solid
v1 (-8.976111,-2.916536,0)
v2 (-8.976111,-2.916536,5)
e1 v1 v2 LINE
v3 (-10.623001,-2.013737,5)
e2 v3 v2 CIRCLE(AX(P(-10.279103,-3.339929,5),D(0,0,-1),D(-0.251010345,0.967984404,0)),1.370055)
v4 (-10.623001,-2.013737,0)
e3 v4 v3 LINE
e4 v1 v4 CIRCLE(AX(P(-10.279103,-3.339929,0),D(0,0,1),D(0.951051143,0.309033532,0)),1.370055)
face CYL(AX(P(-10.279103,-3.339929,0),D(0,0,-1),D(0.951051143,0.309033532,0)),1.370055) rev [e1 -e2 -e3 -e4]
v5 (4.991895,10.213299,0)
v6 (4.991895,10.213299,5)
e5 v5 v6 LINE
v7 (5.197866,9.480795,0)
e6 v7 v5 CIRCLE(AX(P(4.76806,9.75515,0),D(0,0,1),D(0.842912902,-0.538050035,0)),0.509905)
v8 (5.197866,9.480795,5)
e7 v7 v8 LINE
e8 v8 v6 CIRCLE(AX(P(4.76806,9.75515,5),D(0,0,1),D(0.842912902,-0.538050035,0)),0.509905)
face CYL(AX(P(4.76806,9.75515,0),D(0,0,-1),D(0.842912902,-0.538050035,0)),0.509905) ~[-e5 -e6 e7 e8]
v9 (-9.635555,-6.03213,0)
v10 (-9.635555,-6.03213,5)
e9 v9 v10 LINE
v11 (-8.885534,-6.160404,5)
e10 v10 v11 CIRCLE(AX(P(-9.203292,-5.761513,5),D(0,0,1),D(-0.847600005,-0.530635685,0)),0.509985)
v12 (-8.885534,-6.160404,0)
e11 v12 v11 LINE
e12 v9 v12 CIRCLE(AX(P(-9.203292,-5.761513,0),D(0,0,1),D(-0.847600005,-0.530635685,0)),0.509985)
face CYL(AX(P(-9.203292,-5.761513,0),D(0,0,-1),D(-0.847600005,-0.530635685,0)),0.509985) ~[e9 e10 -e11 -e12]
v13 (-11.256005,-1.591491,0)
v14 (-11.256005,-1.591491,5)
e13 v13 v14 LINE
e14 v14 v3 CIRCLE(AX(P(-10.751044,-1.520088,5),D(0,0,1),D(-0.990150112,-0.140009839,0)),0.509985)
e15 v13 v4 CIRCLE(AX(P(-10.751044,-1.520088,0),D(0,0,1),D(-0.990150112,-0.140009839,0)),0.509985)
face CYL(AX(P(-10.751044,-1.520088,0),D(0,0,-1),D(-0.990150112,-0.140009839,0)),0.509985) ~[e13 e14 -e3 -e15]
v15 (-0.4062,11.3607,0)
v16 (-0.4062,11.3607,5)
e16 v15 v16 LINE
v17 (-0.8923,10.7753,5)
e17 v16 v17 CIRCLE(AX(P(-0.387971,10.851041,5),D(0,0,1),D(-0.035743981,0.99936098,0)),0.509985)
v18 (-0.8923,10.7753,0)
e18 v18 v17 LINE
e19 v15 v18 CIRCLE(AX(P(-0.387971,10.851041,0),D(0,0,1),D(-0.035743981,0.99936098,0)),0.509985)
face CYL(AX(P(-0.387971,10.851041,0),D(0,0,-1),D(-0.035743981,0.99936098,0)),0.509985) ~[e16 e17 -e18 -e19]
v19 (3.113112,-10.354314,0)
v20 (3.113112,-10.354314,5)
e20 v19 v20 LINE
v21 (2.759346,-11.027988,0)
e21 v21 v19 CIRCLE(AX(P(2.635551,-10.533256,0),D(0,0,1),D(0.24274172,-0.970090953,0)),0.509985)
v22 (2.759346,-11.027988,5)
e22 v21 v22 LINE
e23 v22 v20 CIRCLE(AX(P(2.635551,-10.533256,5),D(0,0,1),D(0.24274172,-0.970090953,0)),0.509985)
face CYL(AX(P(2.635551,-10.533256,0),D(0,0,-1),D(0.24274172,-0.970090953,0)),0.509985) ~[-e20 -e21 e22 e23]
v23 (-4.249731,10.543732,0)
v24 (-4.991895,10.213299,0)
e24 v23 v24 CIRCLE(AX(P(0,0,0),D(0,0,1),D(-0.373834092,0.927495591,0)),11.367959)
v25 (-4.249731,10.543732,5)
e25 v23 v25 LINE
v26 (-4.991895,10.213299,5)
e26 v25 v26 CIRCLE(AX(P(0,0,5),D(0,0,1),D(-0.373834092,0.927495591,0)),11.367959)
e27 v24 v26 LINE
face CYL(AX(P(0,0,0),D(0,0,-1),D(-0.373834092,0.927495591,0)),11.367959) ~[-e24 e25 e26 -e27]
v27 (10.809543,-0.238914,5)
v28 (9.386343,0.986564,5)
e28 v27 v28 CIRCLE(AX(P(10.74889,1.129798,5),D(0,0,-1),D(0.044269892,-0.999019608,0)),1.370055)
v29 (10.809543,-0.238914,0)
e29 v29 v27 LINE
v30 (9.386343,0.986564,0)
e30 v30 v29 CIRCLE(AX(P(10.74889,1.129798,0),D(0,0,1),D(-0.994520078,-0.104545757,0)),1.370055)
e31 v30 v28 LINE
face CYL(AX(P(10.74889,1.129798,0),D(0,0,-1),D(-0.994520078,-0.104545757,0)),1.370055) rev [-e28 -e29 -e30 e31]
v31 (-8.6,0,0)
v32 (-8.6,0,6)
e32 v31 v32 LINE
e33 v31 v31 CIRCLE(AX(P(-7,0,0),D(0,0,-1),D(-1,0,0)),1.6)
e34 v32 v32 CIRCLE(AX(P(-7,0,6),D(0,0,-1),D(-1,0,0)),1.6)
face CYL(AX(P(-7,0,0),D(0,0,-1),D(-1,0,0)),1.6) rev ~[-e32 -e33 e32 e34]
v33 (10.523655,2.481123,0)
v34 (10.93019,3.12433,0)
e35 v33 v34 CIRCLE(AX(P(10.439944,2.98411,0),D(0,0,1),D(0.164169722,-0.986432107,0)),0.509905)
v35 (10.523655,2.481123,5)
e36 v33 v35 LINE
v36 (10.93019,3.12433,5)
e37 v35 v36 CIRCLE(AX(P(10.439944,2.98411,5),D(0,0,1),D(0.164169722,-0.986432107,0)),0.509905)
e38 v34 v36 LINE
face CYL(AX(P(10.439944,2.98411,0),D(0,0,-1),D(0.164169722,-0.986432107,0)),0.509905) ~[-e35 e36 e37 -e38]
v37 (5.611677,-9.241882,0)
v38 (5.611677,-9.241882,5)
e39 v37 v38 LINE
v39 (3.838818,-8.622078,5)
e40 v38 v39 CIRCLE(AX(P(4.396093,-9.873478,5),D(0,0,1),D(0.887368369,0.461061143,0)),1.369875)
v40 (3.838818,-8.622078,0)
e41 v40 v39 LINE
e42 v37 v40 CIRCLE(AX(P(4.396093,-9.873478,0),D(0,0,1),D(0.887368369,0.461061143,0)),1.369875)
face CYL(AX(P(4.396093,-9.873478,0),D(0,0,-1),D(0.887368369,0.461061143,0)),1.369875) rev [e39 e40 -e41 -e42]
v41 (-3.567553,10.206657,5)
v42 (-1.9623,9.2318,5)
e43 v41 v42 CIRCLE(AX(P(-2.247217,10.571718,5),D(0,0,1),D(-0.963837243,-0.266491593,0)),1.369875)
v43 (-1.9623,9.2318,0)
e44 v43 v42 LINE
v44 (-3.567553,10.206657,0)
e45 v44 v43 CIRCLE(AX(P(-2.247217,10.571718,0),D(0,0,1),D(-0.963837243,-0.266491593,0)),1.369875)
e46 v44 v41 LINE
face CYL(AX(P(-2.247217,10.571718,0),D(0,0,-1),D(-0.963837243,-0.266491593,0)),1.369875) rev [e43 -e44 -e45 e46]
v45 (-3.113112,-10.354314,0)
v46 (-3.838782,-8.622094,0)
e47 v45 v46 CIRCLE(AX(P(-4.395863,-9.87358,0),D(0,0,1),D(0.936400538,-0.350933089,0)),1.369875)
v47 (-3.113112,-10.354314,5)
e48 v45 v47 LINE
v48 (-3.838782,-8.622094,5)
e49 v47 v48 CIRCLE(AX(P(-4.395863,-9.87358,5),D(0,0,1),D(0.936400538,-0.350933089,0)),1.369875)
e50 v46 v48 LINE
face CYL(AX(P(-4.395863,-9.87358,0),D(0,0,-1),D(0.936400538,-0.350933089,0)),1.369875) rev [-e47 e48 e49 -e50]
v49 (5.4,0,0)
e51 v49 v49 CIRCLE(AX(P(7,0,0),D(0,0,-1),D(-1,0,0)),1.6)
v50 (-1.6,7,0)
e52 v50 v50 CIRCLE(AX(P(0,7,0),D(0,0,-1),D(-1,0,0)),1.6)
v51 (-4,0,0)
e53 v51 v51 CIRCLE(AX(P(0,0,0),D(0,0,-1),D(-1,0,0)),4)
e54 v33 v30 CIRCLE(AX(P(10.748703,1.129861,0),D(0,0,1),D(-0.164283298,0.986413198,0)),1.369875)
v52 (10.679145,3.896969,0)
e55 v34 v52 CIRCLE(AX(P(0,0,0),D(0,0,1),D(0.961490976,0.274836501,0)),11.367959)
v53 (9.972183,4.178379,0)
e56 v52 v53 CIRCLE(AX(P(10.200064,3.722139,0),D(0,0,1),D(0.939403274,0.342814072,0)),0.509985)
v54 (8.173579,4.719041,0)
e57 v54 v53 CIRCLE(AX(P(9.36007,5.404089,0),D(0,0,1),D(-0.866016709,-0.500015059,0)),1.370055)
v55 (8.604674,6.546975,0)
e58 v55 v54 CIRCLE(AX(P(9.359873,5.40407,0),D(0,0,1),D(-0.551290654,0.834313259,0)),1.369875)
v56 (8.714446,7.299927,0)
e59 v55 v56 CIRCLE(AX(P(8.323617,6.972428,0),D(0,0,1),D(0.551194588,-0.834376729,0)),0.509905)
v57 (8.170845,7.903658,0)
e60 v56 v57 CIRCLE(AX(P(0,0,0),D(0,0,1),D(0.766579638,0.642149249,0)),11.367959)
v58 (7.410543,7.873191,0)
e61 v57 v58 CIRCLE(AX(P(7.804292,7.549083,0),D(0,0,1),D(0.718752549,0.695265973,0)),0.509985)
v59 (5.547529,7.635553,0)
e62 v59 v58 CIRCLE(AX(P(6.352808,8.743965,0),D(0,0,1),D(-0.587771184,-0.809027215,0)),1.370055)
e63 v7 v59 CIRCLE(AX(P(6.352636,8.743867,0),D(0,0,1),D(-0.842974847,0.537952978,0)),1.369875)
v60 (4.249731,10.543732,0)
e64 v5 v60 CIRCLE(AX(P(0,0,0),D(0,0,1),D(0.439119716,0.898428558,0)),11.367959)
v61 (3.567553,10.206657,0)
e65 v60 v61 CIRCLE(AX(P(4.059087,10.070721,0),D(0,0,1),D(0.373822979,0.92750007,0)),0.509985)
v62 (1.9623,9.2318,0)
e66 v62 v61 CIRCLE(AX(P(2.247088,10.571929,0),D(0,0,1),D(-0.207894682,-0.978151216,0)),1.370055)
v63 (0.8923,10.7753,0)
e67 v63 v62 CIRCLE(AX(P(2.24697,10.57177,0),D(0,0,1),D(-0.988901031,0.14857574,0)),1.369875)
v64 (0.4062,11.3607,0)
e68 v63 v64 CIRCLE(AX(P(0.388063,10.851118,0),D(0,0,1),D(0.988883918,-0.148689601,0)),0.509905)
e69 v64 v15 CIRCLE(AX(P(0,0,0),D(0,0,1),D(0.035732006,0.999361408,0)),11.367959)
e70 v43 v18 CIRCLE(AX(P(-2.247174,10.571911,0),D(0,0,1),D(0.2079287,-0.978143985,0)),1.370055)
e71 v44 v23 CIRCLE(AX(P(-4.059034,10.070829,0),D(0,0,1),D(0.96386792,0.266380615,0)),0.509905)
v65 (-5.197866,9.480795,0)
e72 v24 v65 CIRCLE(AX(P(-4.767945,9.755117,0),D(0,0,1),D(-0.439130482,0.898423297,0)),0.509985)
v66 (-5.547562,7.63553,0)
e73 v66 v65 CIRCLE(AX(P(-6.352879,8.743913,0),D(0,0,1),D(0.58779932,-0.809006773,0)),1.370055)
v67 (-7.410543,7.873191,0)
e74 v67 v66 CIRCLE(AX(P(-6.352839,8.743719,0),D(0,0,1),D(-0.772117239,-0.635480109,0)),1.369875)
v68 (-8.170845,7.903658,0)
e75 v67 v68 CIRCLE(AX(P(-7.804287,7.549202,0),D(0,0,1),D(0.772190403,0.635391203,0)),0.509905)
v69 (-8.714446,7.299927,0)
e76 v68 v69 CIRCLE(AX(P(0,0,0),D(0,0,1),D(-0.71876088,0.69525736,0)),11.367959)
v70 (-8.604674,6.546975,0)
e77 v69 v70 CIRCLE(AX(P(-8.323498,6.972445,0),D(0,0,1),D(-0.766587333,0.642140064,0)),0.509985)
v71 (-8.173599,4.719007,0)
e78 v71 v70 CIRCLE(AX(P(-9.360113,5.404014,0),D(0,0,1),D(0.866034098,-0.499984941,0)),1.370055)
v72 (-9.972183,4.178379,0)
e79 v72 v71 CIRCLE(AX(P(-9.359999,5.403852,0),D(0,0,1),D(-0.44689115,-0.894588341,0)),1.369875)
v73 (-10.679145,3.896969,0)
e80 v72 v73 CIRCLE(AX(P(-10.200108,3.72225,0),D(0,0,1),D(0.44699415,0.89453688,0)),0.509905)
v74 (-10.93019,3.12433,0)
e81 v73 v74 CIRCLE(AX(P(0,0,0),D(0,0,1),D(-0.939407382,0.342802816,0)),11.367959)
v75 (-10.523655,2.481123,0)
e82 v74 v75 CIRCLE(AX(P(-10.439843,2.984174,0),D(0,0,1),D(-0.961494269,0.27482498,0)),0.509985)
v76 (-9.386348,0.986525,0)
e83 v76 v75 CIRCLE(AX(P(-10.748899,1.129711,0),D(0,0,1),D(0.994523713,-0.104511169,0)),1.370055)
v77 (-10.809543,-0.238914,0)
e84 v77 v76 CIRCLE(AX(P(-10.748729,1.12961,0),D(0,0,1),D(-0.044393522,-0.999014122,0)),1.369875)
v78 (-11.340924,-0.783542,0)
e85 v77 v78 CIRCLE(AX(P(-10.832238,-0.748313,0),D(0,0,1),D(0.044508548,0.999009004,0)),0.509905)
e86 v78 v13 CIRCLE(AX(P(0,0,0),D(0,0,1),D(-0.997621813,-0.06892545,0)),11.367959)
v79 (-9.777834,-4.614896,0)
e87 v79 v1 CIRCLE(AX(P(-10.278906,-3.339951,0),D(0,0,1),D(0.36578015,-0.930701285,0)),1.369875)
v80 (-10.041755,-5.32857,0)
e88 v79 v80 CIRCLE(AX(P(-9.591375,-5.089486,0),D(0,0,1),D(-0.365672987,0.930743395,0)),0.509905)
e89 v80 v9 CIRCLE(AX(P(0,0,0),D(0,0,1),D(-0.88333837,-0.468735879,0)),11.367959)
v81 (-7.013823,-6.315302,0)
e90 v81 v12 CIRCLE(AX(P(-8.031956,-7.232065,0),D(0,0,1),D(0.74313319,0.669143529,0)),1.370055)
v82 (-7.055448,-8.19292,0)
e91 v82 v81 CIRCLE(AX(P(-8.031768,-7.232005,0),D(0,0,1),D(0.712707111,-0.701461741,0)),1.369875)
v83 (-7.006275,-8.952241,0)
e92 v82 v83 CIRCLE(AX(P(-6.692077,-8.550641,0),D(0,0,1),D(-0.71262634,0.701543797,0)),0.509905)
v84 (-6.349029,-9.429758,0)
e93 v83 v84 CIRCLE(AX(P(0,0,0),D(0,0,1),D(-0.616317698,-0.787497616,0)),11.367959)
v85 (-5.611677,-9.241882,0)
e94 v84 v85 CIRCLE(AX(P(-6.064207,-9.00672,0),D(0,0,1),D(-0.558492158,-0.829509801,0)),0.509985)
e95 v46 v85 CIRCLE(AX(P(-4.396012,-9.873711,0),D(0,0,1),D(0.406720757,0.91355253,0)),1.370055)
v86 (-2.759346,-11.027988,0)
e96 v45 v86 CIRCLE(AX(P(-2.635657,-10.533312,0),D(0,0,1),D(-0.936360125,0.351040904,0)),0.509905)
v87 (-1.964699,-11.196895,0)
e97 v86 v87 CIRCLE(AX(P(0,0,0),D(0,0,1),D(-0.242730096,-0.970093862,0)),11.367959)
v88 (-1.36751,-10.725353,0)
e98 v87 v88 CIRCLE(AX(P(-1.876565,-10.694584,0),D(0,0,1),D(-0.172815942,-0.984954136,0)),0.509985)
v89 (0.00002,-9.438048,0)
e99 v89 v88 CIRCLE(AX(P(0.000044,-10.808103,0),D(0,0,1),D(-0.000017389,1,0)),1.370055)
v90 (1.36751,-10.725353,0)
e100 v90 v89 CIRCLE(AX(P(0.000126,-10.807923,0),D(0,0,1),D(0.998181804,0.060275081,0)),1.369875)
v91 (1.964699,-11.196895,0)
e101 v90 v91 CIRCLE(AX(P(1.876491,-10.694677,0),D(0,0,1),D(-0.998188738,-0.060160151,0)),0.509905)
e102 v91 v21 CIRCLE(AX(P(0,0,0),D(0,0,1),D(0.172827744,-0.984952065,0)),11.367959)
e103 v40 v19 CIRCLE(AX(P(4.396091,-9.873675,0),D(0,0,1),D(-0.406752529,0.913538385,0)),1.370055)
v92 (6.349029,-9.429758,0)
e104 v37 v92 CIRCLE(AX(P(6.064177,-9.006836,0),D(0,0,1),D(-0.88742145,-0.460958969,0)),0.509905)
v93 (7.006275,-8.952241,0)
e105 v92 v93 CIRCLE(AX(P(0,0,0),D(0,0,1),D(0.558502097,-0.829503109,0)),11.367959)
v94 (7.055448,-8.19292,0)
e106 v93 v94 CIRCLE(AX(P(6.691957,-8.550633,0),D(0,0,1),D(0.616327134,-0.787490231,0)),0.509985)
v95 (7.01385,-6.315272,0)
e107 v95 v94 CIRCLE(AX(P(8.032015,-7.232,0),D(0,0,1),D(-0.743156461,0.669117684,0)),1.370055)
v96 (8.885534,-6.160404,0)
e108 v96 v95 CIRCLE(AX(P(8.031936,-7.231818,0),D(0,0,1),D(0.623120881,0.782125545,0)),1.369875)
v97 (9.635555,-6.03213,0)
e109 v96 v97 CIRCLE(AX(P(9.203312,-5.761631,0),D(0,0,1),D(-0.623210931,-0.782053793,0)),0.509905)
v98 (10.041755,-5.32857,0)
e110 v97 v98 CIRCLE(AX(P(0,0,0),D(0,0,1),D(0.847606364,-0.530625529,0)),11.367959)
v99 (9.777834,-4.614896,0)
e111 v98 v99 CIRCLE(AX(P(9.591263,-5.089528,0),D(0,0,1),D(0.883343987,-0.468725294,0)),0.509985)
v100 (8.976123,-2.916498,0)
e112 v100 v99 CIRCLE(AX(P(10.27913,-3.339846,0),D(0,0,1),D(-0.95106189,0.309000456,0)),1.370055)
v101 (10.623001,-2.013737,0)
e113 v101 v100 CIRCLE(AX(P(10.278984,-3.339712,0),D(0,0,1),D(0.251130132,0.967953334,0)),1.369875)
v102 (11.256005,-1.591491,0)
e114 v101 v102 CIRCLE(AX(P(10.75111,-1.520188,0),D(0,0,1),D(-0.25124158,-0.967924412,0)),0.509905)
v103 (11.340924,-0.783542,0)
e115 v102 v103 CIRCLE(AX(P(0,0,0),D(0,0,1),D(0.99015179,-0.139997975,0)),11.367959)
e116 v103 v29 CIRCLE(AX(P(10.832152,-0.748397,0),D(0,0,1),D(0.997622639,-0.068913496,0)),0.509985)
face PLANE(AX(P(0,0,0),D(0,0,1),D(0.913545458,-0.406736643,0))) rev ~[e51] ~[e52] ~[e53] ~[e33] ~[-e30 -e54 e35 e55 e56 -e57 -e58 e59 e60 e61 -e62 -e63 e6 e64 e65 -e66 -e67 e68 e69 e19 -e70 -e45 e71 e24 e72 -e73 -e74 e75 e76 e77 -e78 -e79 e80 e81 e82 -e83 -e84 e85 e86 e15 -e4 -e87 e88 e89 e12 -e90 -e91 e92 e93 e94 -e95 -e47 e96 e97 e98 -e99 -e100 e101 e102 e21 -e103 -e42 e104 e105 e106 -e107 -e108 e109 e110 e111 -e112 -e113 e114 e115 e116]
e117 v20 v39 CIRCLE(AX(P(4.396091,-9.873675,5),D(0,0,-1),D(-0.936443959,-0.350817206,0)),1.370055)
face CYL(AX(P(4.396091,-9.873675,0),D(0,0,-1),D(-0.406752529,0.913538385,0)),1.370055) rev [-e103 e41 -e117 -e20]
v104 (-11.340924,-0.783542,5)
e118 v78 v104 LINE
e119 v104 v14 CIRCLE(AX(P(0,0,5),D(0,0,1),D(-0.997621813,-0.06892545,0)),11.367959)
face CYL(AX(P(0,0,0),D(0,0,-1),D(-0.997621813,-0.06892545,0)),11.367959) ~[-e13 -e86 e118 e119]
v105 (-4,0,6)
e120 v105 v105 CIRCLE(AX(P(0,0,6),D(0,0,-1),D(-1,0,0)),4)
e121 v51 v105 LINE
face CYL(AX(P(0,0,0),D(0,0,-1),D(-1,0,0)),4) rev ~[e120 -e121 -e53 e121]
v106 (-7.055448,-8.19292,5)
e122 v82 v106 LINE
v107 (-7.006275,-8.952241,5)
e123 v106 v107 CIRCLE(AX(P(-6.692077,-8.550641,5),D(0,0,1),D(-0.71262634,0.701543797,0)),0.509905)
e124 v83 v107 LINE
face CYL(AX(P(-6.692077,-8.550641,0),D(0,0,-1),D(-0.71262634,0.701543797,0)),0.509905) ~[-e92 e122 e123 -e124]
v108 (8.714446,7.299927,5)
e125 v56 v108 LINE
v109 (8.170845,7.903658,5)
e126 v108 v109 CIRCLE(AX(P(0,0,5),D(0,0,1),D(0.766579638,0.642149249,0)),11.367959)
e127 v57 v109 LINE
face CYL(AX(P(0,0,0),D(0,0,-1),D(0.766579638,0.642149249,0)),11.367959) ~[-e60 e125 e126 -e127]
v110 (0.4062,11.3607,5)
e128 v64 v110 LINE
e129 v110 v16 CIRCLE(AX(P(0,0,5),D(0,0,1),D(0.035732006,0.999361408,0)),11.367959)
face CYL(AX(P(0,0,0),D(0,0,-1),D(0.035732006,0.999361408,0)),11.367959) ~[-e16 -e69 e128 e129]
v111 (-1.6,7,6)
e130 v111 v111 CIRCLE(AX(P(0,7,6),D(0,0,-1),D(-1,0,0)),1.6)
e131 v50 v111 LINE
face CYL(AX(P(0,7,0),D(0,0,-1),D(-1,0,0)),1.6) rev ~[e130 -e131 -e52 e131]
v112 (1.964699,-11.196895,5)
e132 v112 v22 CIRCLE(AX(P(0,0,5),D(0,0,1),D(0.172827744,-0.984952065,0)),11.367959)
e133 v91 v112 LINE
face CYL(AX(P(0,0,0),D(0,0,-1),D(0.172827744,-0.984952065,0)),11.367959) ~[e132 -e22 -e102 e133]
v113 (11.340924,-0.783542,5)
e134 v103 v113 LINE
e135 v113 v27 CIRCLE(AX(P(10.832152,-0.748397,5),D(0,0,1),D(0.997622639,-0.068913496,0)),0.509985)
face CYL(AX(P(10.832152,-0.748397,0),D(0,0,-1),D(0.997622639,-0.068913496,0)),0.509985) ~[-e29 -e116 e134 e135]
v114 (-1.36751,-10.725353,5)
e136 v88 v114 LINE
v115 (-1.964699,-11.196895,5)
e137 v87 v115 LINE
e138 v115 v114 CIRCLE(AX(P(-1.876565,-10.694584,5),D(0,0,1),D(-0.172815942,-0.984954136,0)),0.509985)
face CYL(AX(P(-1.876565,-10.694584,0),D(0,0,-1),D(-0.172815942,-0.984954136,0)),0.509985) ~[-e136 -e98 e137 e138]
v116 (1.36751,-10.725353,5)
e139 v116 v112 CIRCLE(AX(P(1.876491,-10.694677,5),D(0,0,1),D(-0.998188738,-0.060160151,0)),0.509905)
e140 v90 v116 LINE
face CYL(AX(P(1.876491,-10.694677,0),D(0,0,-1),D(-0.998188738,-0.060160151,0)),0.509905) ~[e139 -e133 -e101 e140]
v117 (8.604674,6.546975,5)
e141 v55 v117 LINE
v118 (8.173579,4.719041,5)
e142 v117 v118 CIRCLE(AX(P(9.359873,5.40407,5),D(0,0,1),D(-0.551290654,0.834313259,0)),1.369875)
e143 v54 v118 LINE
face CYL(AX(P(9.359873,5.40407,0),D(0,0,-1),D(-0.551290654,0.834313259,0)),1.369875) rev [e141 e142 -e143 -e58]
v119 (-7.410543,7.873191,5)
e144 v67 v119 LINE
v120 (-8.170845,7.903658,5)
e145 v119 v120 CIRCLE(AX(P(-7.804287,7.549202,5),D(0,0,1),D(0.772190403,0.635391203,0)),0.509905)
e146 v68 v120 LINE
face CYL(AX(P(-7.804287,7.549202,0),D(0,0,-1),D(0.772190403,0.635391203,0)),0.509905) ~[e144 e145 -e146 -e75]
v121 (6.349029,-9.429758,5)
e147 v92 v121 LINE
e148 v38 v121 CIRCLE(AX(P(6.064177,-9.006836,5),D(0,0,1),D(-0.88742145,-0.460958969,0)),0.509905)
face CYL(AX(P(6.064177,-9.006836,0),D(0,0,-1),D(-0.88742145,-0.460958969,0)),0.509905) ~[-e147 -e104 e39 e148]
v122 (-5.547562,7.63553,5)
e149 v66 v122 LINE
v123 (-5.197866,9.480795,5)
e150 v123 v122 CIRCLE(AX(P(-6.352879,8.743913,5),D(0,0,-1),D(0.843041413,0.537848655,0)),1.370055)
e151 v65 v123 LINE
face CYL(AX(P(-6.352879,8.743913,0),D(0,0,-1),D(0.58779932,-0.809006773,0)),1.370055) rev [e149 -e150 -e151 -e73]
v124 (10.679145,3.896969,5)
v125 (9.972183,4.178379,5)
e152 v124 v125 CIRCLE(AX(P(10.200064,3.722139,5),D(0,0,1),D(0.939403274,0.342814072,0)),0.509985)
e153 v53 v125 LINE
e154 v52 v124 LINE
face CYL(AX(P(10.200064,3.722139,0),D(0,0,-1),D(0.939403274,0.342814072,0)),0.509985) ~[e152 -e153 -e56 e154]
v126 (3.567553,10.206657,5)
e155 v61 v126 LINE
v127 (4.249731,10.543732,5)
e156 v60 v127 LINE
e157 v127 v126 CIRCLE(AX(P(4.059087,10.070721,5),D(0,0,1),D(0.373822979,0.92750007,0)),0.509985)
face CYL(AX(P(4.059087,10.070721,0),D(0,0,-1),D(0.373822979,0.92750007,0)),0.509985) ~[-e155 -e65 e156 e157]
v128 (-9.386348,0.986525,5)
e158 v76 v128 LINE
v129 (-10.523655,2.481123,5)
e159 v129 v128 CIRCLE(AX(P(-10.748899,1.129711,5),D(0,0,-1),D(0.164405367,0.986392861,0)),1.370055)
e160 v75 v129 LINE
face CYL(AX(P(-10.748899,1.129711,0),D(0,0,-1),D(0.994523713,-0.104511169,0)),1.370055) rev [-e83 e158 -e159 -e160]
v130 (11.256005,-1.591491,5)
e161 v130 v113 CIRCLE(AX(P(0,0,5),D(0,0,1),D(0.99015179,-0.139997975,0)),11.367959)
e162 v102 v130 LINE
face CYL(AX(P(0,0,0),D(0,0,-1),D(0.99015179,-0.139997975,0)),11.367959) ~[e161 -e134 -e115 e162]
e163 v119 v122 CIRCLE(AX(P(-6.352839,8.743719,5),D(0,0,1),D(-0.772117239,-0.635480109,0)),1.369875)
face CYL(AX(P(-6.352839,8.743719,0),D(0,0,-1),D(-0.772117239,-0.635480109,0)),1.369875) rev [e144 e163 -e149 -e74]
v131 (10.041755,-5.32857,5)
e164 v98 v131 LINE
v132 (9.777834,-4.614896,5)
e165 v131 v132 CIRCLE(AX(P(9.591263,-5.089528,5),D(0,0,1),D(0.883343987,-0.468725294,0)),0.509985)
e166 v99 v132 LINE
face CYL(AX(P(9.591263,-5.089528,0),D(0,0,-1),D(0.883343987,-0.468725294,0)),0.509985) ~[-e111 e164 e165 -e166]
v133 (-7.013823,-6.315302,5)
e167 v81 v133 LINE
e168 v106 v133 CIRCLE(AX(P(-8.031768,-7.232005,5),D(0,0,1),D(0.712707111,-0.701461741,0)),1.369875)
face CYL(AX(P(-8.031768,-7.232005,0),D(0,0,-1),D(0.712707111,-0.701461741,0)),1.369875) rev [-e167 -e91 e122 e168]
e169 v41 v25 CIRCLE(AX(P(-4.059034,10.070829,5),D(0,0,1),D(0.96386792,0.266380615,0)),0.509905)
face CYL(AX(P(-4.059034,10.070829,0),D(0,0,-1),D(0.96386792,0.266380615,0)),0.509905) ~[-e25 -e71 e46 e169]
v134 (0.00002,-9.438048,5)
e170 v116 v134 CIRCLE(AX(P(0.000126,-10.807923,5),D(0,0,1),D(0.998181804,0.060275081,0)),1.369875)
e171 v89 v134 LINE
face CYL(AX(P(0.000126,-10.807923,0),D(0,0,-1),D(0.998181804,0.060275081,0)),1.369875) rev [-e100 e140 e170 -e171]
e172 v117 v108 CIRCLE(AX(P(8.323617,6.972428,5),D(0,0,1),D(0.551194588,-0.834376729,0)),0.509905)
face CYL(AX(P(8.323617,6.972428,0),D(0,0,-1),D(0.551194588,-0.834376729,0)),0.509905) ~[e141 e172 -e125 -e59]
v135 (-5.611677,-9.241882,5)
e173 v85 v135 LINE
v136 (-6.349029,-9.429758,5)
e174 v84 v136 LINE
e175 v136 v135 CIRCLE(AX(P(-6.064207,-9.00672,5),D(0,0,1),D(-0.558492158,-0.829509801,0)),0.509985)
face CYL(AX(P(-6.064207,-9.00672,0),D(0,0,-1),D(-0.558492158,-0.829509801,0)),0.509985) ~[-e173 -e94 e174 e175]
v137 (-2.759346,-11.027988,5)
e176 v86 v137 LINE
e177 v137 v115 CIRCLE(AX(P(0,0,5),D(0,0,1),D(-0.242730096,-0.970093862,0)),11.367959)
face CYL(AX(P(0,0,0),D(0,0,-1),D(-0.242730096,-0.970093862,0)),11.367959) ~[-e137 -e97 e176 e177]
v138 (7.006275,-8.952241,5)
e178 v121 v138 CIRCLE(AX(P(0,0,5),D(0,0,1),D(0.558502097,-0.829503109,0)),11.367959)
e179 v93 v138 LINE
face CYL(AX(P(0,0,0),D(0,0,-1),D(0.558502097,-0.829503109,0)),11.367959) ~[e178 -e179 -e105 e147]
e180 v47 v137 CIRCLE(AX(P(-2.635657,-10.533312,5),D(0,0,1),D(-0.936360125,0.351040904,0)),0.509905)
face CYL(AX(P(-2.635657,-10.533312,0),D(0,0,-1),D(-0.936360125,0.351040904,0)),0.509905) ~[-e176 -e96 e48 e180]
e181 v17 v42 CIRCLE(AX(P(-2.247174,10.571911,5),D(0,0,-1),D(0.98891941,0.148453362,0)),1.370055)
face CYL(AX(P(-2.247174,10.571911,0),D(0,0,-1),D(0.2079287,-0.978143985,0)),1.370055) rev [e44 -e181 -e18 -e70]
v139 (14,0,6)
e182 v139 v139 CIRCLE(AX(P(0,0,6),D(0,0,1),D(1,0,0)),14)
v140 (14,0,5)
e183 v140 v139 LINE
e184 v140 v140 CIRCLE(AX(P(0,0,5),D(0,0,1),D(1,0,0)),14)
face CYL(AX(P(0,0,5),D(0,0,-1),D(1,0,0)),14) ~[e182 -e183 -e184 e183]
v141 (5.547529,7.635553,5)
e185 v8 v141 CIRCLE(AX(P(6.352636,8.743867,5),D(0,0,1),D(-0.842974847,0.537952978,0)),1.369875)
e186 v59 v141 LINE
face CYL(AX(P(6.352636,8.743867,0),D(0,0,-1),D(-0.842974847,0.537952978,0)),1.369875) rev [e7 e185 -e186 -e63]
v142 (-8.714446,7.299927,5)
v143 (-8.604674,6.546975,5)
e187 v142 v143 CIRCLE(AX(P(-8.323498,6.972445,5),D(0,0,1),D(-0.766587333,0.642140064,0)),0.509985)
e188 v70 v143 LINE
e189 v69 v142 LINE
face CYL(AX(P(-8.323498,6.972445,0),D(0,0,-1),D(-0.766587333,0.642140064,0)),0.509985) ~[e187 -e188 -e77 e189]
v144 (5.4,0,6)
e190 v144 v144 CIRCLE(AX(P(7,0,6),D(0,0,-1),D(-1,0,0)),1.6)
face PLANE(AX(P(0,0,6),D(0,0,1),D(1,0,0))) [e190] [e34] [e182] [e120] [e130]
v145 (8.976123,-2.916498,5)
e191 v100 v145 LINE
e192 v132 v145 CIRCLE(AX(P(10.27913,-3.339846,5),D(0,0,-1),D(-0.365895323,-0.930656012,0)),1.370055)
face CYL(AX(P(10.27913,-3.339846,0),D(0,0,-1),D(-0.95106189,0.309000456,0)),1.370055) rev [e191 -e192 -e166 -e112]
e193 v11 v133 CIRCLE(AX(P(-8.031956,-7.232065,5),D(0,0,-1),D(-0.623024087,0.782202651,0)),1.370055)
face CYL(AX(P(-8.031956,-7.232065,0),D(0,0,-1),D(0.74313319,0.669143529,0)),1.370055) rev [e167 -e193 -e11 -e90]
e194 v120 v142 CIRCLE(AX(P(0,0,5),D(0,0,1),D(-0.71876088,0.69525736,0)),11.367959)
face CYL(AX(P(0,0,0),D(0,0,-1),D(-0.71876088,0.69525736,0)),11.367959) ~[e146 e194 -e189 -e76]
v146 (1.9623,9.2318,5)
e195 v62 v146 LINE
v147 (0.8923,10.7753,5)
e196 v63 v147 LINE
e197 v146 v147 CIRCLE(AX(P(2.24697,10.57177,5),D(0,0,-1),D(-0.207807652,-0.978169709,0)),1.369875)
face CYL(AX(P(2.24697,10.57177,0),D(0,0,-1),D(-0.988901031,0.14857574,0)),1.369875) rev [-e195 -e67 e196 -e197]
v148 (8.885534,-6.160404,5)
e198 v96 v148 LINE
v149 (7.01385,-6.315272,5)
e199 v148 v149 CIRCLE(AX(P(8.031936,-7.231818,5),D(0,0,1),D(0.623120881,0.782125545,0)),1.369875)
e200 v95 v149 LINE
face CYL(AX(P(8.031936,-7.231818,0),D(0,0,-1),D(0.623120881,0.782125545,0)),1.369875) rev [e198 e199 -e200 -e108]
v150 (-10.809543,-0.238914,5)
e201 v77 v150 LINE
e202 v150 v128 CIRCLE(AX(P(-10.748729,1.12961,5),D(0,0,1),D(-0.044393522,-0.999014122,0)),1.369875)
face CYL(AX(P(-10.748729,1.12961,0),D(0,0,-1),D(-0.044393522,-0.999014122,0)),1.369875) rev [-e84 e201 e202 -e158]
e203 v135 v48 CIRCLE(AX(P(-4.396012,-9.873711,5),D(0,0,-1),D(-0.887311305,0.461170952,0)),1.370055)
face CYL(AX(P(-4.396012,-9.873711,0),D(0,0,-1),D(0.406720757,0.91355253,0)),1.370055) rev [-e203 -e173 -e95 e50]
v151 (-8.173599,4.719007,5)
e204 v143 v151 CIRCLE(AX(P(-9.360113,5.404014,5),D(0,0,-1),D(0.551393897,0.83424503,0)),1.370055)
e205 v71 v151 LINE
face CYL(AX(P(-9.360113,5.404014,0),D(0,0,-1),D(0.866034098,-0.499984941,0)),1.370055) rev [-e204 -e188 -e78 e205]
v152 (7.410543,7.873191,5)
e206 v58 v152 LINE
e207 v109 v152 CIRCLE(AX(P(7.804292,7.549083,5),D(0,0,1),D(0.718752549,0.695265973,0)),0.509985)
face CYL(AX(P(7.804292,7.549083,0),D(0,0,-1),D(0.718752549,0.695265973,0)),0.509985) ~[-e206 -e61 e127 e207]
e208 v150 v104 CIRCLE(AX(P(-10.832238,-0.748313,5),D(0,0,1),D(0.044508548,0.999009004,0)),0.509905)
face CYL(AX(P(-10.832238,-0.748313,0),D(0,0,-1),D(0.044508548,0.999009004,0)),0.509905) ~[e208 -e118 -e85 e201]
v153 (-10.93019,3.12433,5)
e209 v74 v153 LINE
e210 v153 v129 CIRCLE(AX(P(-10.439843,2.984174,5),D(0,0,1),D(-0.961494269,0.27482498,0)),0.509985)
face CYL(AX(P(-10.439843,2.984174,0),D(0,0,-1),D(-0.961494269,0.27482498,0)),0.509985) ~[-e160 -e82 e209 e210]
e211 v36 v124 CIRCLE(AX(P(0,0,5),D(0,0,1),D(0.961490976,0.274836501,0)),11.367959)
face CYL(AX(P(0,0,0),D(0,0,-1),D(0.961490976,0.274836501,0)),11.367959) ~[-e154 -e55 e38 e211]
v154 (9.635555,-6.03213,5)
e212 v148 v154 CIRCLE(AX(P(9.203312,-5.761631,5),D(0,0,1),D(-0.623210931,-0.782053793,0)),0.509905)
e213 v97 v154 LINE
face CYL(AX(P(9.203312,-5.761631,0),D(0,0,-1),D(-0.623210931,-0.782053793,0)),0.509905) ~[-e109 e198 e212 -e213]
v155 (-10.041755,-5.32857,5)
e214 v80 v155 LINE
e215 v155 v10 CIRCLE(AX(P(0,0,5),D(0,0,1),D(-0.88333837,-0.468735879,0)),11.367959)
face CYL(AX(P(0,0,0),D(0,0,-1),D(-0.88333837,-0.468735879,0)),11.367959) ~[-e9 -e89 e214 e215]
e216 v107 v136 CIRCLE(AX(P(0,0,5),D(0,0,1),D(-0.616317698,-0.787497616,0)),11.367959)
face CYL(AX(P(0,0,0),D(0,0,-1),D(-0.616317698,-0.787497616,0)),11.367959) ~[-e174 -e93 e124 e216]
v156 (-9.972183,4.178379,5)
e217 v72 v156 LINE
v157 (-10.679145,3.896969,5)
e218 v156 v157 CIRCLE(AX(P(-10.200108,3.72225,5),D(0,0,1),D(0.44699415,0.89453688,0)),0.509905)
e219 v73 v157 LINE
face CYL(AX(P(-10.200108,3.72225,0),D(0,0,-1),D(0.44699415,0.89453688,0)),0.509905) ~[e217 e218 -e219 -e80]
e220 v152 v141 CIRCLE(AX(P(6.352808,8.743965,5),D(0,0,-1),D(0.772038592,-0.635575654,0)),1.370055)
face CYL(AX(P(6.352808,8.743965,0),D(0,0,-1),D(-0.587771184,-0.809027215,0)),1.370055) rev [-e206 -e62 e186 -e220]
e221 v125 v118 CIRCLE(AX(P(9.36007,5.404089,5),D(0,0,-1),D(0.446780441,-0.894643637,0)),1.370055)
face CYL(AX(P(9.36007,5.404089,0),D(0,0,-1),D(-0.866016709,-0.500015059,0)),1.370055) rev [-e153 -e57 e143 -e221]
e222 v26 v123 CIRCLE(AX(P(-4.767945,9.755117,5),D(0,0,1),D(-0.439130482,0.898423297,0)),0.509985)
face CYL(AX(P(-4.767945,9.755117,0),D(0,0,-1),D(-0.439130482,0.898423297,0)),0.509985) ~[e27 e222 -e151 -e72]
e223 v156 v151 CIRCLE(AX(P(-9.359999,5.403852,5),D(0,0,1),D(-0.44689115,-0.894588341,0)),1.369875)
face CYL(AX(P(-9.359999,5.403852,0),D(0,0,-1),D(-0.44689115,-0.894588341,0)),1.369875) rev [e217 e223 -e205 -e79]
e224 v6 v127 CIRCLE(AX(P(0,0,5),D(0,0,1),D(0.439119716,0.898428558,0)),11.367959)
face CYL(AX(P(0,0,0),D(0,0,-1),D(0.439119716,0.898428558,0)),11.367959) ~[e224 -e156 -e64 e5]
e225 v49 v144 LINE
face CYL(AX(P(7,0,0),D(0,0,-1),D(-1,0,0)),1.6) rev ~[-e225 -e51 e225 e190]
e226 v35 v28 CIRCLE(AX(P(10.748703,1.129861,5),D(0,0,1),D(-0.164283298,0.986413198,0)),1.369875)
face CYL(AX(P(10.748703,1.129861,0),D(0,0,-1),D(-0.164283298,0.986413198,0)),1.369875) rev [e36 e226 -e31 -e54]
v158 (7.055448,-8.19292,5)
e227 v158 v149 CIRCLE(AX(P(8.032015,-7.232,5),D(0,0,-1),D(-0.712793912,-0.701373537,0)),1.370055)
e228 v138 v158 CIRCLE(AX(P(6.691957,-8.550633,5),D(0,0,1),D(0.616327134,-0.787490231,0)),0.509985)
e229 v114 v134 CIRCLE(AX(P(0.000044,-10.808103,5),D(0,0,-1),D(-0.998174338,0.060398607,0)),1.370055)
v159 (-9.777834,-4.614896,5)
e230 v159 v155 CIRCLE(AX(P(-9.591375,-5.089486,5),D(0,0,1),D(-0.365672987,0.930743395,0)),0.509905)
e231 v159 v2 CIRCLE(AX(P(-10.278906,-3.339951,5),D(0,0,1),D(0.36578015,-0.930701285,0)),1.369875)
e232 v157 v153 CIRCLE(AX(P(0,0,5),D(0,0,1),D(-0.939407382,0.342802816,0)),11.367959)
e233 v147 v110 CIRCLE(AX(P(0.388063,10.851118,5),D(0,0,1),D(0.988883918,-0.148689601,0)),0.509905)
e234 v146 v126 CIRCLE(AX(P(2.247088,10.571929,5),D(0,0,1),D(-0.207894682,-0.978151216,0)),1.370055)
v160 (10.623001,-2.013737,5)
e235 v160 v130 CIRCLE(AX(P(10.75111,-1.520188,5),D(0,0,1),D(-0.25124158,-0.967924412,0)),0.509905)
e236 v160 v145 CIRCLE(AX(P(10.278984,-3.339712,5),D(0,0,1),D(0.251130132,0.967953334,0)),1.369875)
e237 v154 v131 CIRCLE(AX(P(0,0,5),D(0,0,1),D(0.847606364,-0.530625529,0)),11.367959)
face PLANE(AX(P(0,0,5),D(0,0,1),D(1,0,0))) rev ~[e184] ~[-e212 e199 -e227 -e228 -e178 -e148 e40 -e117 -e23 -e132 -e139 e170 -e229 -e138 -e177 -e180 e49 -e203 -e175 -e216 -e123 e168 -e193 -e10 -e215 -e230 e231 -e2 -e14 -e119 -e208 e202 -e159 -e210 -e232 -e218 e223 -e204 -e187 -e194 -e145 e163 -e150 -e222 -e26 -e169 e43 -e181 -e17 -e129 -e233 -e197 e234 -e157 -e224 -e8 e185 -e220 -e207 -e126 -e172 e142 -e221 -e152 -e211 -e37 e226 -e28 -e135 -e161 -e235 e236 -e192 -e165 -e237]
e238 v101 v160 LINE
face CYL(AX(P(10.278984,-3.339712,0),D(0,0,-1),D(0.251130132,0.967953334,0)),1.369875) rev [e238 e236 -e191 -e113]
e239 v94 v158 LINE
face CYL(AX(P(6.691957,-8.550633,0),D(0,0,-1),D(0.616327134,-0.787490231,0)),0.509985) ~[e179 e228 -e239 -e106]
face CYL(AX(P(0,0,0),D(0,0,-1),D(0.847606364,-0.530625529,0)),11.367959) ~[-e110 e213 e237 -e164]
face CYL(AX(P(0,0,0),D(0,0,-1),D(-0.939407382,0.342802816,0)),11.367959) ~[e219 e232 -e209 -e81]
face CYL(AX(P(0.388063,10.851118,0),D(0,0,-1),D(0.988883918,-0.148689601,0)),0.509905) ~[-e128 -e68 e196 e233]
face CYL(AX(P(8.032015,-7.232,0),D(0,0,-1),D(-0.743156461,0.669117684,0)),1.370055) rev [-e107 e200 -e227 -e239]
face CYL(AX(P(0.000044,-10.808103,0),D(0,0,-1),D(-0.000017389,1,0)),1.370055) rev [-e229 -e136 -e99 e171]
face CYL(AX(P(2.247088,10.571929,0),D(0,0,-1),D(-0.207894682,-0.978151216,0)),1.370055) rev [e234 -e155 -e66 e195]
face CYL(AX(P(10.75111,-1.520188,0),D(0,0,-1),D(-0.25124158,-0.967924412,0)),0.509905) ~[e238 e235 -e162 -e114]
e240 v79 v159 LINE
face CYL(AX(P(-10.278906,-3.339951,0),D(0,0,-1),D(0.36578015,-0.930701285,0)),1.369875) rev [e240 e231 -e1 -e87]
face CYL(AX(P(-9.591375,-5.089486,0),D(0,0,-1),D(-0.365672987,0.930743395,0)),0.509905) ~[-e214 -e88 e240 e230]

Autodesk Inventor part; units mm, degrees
ref_plane "YZ Plane" through (0, 0, 0) normal (1, 0, 0) x (0, 1, 0)
ref_plane "XZ Plane" through (0, 0, 0) normal (0, 1, 0) x (-1, 0, 0)
ref_plane "XY Plane" through (0, 0, 0) normal (0, 0, 1) x (1, 0, 0)
sketch "スケッチ1" plane through (0, 0, 0) normal (0, 0, 1) x (1, 0, 0)
  arc A0 (0.7632, 11.9121) -> (-1.0179, 11.893) centre (0, 0) ccw construction
  arc A1 (0.4062, 11.3607) -> (-0.4062, 11.3607) centre (0, 0) ccw
  arc A2 (9.3048, 1.5803) -> (-9.0567, 2.6555) centre (0, 0) ccw construction
  arc A3 (0.8923, 10.7753) -> (1.9623, 9.2318) centre (2.2471, 10.5718) ccw
  line L0 (1.9623, 9.2318) -> (0, 0)
  arc A4 (-1.9623, 9.2318) -> (-0.8923, 10.7753) centre (-2.2471, 10.5718) ccw
  line L1 (-1.9623, 9.2318) -> (0, 0)
  arc A5 (-0.4062, 11.3607) -> (-0.8923, 10.7753) centre (-0.388, 10.8511) ccw
  arc A6 (0.8923, 10.7753) -> (0.4062, 11.3607) centre (0.388, 10.8511) ccw
  line L2 (0, 0) -> (0, 2.9942) construction
  dimension "d0" = 11.9365
  dimension "d1" = 11.368
  dimension "d2" = 1.93
  dimension "d3" = 0.51
  dimension "d4" = 1.37
  dimension "d5" = 1.37
  dimension "d6" = 24
  dimension "d7" = 12
extrude "押し出し1" add sketch "スケッチ1" along normal blind 5
pattern_circular "円形状パターン1" count 15 over 360 about axis through (0, 0, 0) along (0, 0, 1) of "押し出し1"
sketch "スケッチ2" plane through (0, 0, 5) normal (0, 0, 1) x (1, 0, 0)
  circle A0 centre (0, 0) radius 14
  dimension "d13" = 28
extrude "押し出し2" add sketch "スケッチ2" along normal blind 1
sketch "スケッチ3" plane through (0, 0, 0) normal (0, 0, -1) x (-1, 0, 0)
  circle A0 centre (0, 0) radius 4
  circle A1 centre (0, 7) radius 1.6
  circle A2 centre (-7, 0) radius 1.6
  circle A3 centre (7, 0) radius 1.6
  dimension "d16" = 8
  dimension "d18" = 3.2
  dimension "d19" = 7
  dimension "d20" = 3.2
  dimension "d21" = 3.2
  dimension "d22" = 7
  dimension "d23" = 7
extrude "押し出し3" cut sketch "スケッチ3" against normal through all
properties part number "プーリ_歯数15" material "アセタール樹脂、白"
